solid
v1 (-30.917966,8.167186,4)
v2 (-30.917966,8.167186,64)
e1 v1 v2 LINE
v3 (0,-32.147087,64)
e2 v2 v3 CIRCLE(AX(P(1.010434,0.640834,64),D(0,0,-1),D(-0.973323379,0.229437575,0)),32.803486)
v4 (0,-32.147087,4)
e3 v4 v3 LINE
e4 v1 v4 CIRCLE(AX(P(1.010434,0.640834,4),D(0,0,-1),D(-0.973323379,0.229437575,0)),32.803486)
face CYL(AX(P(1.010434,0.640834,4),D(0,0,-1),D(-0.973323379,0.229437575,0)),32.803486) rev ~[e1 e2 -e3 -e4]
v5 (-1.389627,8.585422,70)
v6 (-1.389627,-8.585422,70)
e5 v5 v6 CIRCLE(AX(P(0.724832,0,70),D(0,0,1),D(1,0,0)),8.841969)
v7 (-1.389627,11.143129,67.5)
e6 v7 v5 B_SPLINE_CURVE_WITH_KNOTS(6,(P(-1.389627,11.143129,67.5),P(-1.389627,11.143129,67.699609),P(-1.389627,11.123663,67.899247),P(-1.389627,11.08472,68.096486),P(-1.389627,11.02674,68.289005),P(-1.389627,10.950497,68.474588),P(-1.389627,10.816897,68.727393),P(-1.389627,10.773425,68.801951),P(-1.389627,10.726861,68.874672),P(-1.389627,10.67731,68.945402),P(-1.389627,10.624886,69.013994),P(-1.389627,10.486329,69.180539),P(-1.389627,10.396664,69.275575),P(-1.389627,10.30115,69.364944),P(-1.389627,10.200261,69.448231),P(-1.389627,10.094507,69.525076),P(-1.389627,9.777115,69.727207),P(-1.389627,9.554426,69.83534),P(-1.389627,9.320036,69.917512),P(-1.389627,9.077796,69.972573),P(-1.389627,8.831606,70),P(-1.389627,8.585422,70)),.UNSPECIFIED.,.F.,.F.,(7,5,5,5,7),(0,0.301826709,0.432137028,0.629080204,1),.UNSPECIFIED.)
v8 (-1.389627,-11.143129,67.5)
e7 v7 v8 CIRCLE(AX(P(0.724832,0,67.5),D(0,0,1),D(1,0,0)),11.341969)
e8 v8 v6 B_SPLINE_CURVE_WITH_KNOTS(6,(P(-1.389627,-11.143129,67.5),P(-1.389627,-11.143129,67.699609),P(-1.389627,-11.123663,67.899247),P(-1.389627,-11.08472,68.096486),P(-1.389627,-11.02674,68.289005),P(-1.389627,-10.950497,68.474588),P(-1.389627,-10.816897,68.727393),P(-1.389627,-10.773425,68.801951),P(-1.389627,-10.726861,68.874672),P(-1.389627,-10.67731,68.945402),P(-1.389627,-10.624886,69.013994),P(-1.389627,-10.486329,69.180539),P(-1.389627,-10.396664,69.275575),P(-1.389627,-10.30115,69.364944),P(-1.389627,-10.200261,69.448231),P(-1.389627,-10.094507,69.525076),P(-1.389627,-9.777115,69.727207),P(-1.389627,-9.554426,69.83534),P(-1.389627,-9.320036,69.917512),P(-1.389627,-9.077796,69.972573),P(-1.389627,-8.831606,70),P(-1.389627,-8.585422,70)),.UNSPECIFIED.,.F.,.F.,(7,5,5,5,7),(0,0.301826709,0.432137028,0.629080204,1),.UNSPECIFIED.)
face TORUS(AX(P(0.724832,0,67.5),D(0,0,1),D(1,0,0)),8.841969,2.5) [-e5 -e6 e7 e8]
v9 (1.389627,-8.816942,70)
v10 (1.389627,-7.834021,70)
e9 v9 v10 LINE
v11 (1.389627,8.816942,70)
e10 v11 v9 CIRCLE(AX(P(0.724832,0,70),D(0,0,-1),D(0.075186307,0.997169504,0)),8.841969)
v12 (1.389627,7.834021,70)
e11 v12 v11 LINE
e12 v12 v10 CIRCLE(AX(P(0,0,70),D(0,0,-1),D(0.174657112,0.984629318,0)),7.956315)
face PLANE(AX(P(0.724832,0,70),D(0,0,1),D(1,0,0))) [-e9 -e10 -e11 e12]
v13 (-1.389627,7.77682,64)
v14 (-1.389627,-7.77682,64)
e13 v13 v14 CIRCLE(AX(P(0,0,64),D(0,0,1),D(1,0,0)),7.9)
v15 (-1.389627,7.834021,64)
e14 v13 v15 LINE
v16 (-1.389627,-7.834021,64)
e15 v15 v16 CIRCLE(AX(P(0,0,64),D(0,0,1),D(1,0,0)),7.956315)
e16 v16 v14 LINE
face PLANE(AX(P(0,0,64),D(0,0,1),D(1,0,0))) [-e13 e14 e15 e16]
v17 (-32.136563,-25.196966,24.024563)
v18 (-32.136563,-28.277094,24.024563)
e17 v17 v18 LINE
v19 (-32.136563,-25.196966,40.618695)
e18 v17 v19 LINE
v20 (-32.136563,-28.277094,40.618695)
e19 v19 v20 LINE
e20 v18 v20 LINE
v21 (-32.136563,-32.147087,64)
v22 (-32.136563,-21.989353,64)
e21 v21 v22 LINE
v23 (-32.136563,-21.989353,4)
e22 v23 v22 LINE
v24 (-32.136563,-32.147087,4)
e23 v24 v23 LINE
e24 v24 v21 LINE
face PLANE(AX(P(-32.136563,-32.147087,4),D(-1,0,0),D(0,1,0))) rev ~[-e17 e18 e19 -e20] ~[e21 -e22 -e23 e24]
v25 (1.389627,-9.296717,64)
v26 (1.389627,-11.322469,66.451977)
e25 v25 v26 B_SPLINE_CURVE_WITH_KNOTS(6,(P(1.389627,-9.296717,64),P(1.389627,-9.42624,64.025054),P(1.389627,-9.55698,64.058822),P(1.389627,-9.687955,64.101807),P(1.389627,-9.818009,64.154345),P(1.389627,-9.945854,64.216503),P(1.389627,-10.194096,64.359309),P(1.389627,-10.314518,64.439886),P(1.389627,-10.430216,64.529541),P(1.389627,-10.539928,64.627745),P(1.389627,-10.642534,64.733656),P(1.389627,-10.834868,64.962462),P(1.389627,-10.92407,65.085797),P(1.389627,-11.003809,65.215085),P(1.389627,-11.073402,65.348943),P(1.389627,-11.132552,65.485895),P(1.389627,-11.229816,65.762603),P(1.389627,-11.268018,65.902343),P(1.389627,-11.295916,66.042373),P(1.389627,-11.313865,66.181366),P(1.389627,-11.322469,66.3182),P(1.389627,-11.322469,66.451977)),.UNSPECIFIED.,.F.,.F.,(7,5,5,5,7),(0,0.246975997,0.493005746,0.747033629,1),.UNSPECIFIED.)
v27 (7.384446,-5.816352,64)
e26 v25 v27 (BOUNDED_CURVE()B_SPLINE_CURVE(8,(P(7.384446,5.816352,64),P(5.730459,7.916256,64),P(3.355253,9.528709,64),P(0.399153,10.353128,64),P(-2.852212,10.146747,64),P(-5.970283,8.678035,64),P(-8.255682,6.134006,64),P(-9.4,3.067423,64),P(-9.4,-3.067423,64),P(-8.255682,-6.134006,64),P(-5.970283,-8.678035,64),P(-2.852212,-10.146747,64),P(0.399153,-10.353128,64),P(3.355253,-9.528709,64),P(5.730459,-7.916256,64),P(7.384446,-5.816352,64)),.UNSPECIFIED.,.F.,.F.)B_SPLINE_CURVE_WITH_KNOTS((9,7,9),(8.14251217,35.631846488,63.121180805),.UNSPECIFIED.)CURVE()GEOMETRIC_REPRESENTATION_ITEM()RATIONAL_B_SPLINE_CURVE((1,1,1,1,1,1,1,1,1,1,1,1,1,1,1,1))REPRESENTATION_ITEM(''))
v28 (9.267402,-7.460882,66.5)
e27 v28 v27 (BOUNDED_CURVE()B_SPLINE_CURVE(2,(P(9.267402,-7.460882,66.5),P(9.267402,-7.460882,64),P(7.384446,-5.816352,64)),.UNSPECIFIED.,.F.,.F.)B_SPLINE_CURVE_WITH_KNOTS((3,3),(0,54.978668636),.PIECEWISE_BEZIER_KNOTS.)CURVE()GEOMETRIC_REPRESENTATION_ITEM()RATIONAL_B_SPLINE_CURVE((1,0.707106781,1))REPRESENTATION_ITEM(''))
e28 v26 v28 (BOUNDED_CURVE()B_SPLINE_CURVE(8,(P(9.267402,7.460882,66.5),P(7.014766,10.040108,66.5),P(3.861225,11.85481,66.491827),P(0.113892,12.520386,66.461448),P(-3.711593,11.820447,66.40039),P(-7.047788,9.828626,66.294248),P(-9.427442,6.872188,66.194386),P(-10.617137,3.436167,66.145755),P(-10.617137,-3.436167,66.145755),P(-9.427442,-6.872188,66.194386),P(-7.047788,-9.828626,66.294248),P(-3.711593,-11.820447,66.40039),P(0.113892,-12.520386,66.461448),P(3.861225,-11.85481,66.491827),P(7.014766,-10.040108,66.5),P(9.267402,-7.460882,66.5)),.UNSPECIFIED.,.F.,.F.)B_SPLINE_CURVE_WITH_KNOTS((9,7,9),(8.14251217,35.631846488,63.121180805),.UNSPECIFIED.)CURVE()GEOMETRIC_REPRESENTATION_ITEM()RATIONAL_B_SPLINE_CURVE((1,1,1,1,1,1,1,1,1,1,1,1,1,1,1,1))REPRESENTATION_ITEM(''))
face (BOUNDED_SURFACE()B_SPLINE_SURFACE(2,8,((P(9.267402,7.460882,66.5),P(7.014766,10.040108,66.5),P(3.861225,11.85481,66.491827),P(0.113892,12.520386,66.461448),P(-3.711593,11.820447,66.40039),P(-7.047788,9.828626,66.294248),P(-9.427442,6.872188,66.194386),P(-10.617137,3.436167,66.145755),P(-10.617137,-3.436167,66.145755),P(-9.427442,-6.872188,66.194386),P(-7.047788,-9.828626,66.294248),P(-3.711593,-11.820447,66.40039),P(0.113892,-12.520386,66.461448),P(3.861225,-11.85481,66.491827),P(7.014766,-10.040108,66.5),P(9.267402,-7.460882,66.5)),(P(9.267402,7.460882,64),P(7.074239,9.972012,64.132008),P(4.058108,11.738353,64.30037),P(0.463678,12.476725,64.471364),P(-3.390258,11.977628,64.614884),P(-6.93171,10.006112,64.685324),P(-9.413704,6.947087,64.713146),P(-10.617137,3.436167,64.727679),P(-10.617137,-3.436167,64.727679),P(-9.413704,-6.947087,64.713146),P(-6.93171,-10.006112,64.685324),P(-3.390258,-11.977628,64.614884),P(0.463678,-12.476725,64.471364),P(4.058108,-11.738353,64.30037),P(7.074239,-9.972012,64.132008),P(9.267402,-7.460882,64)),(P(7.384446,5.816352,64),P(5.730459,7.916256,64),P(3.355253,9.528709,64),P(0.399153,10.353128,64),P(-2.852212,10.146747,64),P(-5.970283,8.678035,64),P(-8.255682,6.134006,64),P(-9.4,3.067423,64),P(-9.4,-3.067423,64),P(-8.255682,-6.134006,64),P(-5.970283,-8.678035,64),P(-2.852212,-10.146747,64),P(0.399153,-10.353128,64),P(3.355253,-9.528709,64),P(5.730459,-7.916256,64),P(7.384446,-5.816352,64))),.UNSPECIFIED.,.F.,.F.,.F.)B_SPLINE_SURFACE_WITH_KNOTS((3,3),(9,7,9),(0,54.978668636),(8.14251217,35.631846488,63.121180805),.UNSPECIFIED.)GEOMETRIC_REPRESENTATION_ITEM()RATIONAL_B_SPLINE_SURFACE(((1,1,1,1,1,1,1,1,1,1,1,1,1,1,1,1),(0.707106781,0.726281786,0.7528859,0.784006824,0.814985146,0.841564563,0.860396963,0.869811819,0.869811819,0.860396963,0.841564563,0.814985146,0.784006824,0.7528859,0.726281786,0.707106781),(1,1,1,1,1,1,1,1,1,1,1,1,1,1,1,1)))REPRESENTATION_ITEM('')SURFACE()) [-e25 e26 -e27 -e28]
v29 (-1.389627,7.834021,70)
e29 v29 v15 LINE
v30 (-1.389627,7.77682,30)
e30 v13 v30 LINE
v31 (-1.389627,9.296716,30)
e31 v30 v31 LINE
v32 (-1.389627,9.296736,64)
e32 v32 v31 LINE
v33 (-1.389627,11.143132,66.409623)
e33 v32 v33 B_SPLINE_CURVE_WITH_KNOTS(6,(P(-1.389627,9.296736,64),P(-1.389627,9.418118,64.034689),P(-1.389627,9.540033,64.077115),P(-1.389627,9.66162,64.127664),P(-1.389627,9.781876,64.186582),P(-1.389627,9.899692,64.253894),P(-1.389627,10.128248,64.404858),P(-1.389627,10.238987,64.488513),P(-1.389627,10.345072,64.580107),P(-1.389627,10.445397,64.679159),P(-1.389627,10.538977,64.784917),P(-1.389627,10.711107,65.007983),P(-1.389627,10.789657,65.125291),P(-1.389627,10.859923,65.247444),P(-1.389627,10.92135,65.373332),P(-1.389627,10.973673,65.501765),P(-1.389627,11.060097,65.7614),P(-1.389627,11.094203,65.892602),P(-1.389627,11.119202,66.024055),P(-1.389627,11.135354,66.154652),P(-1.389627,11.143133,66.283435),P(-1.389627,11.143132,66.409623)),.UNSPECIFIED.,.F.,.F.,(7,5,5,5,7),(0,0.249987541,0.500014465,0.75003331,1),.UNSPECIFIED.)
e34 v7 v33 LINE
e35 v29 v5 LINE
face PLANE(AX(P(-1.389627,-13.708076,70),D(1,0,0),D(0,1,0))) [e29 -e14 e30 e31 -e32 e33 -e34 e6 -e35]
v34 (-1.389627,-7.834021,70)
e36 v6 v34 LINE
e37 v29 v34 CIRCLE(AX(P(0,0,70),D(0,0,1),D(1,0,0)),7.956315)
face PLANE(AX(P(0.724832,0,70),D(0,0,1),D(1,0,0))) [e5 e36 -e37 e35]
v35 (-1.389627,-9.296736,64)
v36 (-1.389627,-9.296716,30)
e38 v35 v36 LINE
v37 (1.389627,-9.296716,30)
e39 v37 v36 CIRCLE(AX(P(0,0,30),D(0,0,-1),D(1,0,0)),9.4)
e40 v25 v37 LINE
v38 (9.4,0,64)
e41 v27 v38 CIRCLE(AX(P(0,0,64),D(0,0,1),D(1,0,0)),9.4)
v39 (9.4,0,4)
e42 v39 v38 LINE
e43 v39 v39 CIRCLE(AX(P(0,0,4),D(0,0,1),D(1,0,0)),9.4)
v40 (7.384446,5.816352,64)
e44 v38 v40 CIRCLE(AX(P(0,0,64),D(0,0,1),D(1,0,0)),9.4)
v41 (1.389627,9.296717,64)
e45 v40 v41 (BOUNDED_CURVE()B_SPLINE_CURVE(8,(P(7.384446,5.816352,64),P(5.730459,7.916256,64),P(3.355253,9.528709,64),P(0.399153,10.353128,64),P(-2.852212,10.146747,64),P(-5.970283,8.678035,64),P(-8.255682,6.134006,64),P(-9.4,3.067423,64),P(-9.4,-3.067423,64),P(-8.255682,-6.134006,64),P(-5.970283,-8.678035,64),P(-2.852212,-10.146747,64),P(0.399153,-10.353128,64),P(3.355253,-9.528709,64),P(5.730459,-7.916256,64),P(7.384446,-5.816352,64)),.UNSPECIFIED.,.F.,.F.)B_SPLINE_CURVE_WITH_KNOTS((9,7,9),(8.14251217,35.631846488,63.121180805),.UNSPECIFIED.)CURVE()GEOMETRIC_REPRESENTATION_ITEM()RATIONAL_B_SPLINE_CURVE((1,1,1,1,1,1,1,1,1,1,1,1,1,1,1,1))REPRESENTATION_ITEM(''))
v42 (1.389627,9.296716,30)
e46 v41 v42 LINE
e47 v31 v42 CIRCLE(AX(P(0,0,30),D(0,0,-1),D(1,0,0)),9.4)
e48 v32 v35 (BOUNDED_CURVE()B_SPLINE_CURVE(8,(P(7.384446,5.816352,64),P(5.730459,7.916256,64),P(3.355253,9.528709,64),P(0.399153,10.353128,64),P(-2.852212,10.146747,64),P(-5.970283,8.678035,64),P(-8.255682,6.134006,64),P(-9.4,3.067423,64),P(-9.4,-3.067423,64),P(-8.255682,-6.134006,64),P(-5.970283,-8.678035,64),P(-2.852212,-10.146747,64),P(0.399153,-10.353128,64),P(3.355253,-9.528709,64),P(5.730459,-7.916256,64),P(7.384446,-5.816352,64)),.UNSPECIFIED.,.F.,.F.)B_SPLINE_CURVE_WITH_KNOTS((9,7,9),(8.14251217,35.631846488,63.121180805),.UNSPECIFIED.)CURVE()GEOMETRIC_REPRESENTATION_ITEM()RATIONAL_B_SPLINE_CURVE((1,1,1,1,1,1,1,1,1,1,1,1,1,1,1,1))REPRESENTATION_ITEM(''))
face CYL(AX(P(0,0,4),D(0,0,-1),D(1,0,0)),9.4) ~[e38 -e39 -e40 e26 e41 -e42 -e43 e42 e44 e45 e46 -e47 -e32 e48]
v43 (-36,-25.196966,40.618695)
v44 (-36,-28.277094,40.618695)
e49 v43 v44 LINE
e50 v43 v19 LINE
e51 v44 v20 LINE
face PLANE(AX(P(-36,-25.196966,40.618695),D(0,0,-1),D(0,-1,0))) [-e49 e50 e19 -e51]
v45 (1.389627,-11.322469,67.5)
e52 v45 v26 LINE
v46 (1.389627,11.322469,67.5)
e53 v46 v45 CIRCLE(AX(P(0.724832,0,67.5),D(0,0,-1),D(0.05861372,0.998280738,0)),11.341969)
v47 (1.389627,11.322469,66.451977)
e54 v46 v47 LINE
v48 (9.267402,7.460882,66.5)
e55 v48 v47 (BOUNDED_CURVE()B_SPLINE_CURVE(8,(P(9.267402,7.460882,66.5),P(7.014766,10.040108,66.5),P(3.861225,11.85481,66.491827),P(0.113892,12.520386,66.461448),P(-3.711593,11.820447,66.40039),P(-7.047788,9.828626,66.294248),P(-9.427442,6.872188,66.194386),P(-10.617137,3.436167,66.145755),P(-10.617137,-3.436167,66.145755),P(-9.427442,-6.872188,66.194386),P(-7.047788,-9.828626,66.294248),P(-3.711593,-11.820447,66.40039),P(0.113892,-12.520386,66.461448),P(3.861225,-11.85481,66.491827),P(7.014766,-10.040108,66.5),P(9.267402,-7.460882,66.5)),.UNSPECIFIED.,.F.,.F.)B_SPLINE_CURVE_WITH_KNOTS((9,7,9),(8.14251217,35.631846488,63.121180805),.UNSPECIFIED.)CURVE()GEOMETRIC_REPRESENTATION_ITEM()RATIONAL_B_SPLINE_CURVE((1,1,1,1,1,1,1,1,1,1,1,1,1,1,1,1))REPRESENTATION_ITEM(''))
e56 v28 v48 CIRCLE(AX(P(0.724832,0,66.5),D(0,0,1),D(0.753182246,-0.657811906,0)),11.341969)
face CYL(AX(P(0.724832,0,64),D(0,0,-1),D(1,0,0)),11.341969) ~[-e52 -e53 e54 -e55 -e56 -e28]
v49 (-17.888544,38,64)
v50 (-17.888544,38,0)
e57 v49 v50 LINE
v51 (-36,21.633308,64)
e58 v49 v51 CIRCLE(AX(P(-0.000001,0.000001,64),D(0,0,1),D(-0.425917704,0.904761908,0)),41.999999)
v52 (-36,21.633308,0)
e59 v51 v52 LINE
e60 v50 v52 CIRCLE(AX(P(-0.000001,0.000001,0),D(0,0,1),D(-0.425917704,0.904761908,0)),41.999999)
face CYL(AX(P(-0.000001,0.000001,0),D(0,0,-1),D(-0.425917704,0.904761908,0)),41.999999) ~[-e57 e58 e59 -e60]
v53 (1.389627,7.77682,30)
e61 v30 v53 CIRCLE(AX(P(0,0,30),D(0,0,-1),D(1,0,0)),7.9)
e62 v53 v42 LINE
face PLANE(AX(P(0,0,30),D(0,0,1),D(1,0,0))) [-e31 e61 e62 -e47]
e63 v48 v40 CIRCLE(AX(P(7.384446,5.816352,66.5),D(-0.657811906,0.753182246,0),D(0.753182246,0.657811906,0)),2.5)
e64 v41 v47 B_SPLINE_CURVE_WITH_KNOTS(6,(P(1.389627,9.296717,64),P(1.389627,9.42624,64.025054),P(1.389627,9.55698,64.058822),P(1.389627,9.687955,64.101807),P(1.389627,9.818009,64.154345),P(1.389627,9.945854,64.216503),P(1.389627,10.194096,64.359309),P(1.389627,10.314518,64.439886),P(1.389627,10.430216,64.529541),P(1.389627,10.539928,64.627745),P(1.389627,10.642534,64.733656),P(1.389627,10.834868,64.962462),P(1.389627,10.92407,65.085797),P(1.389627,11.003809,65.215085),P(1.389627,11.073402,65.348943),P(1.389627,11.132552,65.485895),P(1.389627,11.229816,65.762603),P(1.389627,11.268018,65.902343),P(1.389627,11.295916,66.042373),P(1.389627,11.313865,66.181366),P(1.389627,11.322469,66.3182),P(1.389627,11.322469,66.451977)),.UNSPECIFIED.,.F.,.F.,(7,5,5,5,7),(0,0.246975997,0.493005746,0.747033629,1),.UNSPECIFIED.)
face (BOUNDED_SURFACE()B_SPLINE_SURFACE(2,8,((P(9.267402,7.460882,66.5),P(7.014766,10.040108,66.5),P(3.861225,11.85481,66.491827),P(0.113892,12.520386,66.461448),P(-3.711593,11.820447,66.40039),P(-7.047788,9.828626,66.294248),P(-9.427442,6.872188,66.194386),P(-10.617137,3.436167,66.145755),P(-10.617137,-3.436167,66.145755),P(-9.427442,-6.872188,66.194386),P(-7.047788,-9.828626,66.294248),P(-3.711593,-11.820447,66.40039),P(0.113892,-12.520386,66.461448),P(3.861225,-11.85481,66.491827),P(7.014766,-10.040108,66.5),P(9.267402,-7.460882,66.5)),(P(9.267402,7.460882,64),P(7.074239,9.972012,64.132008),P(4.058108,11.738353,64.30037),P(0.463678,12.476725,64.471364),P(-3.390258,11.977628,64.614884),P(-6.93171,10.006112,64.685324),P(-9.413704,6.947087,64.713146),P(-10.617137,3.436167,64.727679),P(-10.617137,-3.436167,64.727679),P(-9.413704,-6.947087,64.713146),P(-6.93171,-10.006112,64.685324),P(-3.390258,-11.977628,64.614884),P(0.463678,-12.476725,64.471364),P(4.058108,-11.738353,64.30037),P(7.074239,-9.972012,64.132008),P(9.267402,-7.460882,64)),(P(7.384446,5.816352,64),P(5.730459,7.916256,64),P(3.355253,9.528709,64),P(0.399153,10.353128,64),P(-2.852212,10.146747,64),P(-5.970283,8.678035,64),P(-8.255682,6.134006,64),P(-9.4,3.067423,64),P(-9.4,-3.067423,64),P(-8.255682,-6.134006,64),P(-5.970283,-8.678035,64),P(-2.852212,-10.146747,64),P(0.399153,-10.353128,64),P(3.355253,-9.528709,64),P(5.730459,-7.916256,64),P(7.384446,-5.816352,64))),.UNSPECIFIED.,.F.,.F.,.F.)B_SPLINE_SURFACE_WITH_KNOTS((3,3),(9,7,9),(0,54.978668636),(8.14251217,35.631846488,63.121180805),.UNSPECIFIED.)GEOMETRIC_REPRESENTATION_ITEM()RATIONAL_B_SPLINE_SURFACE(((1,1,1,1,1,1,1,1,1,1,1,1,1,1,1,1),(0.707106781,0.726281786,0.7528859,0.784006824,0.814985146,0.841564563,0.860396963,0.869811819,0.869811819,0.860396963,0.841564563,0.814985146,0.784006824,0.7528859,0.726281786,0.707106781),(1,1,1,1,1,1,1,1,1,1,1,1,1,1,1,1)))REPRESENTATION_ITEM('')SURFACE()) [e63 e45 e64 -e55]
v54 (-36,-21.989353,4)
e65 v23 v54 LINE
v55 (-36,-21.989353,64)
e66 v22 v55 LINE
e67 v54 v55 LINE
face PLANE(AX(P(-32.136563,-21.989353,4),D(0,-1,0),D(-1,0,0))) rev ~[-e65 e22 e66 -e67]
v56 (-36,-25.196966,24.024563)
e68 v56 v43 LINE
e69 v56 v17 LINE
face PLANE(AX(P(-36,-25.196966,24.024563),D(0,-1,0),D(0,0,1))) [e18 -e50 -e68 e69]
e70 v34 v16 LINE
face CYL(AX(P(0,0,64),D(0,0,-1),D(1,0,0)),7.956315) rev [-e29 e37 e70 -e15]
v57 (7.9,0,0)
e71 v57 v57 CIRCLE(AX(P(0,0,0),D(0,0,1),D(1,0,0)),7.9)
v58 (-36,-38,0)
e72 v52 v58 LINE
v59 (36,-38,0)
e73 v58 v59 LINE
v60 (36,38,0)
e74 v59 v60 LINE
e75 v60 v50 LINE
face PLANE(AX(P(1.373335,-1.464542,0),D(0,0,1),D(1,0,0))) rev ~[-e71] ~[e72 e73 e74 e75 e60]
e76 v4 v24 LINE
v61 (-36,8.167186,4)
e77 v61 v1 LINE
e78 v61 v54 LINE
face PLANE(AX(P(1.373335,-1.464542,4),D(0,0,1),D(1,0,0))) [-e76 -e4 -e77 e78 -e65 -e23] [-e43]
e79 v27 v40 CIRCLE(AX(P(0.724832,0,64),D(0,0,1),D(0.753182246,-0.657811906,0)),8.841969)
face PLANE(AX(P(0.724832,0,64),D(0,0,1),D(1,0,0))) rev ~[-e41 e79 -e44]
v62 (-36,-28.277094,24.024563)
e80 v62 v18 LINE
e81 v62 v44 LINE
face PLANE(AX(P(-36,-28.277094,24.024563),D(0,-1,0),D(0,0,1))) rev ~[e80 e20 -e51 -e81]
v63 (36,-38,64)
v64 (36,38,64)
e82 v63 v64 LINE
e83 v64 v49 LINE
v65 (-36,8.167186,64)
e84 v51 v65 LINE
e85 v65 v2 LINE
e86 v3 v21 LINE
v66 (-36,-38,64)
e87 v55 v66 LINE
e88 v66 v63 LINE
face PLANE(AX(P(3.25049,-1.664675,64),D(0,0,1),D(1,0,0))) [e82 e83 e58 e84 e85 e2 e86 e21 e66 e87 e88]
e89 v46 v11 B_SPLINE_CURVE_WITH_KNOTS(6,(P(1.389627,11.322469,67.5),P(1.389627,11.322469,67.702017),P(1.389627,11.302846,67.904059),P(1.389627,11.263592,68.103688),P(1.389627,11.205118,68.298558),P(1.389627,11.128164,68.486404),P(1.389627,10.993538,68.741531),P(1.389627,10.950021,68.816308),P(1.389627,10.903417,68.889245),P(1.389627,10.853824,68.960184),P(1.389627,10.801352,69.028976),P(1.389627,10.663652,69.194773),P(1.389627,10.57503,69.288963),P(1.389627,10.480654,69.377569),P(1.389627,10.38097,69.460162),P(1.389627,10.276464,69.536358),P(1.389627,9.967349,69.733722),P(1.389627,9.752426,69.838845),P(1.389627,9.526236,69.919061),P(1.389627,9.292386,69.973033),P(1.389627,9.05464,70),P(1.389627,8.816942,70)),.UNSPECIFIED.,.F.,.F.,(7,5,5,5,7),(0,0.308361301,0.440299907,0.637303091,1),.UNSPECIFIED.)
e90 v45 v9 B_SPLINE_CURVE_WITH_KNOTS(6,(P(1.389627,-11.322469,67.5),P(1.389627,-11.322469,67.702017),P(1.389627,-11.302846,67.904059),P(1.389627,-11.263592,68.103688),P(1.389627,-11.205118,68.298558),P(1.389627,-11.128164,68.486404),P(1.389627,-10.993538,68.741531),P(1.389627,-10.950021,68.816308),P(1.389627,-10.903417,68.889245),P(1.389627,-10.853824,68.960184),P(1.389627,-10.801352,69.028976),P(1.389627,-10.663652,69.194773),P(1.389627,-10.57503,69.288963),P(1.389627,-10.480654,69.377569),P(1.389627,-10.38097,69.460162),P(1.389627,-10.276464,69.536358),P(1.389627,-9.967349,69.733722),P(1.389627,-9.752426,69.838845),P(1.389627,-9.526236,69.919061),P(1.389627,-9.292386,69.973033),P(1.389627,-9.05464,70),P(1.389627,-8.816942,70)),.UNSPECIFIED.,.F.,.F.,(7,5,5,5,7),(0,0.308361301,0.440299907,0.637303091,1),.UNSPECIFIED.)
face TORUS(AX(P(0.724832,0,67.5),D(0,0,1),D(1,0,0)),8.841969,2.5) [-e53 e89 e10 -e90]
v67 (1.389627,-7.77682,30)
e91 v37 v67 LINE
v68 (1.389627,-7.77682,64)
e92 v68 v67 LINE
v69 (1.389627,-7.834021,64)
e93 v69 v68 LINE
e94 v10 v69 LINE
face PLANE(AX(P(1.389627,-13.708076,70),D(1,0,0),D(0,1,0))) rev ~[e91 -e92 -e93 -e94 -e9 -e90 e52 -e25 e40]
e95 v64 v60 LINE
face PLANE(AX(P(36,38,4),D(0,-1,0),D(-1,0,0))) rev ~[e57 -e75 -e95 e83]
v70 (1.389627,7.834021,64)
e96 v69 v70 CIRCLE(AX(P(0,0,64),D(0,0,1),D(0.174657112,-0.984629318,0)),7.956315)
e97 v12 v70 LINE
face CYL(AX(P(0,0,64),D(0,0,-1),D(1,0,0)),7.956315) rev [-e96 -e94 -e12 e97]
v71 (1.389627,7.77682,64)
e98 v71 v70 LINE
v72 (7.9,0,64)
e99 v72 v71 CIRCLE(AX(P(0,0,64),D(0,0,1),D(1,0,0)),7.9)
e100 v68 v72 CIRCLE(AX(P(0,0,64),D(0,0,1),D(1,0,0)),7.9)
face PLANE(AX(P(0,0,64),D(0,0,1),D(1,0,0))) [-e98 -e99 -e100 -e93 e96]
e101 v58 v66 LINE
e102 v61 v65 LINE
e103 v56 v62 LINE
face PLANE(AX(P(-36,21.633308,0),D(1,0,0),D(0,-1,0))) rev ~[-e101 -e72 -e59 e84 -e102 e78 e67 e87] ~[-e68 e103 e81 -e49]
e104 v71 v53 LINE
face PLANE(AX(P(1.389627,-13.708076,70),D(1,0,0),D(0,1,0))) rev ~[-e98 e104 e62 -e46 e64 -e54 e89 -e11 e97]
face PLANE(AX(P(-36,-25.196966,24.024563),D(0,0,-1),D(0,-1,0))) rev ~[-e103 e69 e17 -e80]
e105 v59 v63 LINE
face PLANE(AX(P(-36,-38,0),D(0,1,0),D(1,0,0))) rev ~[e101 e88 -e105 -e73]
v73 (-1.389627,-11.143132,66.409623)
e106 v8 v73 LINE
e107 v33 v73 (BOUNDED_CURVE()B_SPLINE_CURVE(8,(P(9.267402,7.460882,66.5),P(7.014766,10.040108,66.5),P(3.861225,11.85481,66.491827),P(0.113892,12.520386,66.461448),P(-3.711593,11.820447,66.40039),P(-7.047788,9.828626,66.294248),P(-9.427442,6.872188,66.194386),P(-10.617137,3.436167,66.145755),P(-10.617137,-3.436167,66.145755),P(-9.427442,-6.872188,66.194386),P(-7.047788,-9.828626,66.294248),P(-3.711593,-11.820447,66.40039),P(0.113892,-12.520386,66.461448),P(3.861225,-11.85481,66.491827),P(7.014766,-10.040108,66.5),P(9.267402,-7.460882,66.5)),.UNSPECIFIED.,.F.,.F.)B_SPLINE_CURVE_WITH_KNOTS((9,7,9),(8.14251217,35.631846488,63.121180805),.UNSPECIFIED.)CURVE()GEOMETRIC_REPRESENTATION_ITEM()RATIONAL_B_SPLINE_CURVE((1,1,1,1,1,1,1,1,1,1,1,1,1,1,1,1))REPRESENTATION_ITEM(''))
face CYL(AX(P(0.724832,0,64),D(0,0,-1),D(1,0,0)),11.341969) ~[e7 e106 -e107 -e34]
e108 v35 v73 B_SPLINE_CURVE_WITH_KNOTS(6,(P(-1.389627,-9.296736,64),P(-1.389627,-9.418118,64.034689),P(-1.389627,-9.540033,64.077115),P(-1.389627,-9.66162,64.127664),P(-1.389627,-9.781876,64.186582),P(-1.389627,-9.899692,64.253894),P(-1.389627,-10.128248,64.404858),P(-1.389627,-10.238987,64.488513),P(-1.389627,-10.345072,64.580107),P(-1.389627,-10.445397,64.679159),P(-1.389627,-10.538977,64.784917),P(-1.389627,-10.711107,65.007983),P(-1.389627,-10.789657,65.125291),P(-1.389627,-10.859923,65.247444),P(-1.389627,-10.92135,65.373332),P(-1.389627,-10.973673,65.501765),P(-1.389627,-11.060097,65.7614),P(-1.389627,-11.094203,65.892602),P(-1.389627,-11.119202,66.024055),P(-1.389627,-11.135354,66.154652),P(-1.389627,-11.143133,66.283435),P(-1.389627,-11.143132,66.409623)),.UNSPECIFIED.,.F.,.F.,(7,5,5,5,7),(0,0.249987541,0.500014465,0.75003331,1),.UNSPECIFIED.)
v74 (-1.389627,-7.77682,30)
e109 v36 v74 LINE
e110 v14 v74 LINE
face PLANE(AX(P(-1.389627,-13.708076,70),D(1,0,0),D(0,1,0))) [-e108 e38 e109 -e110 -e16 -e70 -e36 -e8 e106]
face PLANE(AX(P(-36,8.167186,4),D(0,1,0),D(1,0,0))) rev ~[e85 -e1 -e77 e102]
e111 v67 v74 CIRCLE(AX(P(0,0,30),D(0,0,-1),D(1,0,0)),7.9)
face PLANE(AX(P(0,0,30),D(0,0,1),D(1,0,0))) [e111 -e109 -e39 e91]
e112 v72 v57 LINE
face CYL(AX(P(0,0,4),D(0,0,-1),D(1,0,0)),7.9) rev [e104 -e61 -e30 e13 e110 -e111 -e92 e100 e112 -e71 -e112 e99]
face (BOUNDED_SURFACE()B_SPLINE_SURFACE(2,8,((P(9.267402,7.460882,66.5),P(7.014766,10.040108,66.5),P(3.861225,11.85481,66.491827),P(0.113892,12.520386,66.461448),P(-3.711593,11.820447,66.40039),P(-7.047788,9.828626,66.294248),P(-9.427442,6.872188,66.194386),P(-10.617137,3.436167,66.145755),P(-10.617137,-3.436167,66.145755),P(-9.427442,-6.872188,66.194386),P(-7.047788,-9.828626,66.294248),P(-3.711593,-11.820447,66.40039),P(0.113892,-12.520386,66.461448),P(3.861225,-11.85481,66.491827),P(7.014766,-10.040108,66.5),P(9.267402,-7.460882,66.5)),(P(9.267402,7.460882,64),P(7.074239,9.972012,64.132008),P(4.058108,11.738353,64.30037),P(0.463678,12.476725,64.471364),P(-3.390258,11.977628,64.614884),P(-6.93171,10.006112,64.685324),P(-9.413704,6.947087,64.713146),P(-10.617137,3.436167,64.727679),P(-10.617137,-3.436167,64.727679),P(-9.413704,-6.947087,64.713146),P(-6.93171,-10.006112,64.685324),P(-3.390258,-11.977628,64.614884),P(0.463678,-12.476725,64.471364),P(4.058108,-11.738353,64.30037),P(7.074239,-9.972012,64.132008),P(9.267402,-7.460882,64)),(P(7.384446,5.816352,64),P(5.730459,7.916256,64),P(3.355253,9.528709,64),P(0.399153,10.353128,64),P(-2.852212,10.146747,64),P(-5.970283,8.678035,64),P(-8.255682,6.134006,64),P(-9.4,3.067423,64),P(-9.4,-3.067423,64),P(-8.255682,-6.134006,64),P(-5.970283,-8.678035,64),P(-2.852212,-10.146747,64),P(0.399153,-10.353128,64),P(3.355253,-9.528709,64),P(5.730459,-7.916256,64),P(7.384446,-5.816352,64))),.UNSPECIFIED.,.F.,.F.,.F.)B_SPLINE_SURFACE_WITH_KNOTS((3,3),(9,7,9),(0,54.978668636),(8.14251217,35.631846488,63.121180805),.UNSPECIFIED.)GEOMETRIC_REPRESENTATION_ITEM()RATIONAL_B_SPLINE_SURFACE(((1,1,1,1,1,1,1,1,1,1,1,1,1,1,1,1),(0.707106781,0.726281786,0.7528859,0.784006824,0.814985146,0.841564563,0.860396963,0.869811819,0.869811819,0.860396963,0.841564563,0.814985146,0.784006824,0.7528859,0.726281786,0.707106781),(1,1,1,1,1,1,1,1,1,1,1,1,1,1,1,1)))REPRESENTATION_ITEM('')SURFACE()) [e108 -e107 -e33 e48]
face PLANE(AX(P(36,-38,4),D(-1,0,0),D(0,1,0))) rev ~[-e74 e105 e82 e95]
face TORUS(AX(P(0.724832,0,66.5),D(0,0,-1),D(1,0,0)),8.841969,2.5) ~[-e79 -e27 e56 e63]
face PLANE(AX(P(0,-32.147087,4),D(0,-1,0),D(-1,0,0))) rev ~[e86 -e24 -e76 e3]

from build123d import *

# Parameters (mm, degrees)
F0_R      = 7.9
F1_DEPTH  = 4
F2_R      = 9.4
F2_R_2    = 7.9
F3_DEPTH  = 60
F4_W      = 3.080128
F4_H      = 16.594132
F5_DEPTH  = 25
F6_R      = 11.341969
F6_R_2    = 7.956315
F7_DEPTH  = 6
F8_R      = 2.5
F9_W      = 2.779254
F9_H      = 27.416152
F10_DEPTH = 40


with BuildPart() as f1:
    # F0 (on Top) → F1 (new body)
    with BuildSketch(Plane.XY):
        with BuildLine():
            Line((36, 38), (-17.888544, 38))
            ThreePointArc((-17.888544, 38), (-28.159562, 31.1615), (-36, 21.633308))
            Line((-36, 21.633308), (-36, -38))
            Line((-36, -38), (36, -38))
            Line((36, -38), (36, 38))
        make_face()
        Circle(F0_R, mode=Mode.SUBTRACT)
    extrude(amount=F1_DEPTH)

    # F2 (on face) → F3 (join)
    with BuildSketch(Plane.XY.offset(4)):
        Circle(F2_R)
        Circle(F2_R_2, mode=Mode.SUBTRACT)
        with BuildLine():
            Line((36, 38), (-17.888544, 38))
            ThreePointArc((-17.888544, 38), (-28.159562, 31.1615), (-36, 21.633308))
            Line((-36, 21.633308), (-36, 8.167186))
            Line((-36, 8.167186), (-30.917966, 8.167186))
            ThreePointArc((-30.917966, 8.167186), (27.040261, 20.60372), (0, -32.147087))
            Line((0, -32.147087), (-32.136563, -32.147087))
            Line((-32.136563, -32.147087), (-32.136563, -29.065894))
            Line((-32.136563, -29.065894), (-32.136563, -21.989353))
            Line((-32.136563, -21.989353), (-36, -21.989353))
            Line((-36, -21.989353), (-36, -29.065894))
            Line((-36, -29.065894), (-36, -38))
            Line((-36, -38), (36, -38))
            Line((36, -38), (36, 38))
        make_face()
    extrude(amount=F3_DEPTH)

    # F4 (on face) → F5 (cut)
    with BuildSketch(Plane(origin=(-36, 0, 0), x_dir=(0, -1, 0), z_dir=(-1, 0, 0))):
        with Locations((26.73703, 32.321629)):
            Rectangle(F4_W, F4_H)
    extrude(amount=-F5_DEPTH, mode=Mode.SUBTRACT)

    # F6 (on face) → F7 (join)
    with BuildSketch(Plane.XY.offset(64)):
        with Locations((0.724832, 0)):
            Circle(F6_R)
        Circle(F6_R_2, mode=Mode.SUBTRACT)
    extrude(amount=F7_DEPTH)

    # F8
    f8_edges = [f1.edges().sort_by_distance(p)[0] for p in [
        (-10.617137, 0, 70),
        (-10.617137, 0, 64),
    ]]
    fillet(f8_edges, radius=F8_R)

    # F9 (on face) → F10 (cut)
    with BuildSketch(Plane.XY.offset(70)):
        Rectangle(F9_W, F9_H)
    extrude(amount=-F10_DEPTH, mode=Mode.SUBTRACT)


solid = f1.part
